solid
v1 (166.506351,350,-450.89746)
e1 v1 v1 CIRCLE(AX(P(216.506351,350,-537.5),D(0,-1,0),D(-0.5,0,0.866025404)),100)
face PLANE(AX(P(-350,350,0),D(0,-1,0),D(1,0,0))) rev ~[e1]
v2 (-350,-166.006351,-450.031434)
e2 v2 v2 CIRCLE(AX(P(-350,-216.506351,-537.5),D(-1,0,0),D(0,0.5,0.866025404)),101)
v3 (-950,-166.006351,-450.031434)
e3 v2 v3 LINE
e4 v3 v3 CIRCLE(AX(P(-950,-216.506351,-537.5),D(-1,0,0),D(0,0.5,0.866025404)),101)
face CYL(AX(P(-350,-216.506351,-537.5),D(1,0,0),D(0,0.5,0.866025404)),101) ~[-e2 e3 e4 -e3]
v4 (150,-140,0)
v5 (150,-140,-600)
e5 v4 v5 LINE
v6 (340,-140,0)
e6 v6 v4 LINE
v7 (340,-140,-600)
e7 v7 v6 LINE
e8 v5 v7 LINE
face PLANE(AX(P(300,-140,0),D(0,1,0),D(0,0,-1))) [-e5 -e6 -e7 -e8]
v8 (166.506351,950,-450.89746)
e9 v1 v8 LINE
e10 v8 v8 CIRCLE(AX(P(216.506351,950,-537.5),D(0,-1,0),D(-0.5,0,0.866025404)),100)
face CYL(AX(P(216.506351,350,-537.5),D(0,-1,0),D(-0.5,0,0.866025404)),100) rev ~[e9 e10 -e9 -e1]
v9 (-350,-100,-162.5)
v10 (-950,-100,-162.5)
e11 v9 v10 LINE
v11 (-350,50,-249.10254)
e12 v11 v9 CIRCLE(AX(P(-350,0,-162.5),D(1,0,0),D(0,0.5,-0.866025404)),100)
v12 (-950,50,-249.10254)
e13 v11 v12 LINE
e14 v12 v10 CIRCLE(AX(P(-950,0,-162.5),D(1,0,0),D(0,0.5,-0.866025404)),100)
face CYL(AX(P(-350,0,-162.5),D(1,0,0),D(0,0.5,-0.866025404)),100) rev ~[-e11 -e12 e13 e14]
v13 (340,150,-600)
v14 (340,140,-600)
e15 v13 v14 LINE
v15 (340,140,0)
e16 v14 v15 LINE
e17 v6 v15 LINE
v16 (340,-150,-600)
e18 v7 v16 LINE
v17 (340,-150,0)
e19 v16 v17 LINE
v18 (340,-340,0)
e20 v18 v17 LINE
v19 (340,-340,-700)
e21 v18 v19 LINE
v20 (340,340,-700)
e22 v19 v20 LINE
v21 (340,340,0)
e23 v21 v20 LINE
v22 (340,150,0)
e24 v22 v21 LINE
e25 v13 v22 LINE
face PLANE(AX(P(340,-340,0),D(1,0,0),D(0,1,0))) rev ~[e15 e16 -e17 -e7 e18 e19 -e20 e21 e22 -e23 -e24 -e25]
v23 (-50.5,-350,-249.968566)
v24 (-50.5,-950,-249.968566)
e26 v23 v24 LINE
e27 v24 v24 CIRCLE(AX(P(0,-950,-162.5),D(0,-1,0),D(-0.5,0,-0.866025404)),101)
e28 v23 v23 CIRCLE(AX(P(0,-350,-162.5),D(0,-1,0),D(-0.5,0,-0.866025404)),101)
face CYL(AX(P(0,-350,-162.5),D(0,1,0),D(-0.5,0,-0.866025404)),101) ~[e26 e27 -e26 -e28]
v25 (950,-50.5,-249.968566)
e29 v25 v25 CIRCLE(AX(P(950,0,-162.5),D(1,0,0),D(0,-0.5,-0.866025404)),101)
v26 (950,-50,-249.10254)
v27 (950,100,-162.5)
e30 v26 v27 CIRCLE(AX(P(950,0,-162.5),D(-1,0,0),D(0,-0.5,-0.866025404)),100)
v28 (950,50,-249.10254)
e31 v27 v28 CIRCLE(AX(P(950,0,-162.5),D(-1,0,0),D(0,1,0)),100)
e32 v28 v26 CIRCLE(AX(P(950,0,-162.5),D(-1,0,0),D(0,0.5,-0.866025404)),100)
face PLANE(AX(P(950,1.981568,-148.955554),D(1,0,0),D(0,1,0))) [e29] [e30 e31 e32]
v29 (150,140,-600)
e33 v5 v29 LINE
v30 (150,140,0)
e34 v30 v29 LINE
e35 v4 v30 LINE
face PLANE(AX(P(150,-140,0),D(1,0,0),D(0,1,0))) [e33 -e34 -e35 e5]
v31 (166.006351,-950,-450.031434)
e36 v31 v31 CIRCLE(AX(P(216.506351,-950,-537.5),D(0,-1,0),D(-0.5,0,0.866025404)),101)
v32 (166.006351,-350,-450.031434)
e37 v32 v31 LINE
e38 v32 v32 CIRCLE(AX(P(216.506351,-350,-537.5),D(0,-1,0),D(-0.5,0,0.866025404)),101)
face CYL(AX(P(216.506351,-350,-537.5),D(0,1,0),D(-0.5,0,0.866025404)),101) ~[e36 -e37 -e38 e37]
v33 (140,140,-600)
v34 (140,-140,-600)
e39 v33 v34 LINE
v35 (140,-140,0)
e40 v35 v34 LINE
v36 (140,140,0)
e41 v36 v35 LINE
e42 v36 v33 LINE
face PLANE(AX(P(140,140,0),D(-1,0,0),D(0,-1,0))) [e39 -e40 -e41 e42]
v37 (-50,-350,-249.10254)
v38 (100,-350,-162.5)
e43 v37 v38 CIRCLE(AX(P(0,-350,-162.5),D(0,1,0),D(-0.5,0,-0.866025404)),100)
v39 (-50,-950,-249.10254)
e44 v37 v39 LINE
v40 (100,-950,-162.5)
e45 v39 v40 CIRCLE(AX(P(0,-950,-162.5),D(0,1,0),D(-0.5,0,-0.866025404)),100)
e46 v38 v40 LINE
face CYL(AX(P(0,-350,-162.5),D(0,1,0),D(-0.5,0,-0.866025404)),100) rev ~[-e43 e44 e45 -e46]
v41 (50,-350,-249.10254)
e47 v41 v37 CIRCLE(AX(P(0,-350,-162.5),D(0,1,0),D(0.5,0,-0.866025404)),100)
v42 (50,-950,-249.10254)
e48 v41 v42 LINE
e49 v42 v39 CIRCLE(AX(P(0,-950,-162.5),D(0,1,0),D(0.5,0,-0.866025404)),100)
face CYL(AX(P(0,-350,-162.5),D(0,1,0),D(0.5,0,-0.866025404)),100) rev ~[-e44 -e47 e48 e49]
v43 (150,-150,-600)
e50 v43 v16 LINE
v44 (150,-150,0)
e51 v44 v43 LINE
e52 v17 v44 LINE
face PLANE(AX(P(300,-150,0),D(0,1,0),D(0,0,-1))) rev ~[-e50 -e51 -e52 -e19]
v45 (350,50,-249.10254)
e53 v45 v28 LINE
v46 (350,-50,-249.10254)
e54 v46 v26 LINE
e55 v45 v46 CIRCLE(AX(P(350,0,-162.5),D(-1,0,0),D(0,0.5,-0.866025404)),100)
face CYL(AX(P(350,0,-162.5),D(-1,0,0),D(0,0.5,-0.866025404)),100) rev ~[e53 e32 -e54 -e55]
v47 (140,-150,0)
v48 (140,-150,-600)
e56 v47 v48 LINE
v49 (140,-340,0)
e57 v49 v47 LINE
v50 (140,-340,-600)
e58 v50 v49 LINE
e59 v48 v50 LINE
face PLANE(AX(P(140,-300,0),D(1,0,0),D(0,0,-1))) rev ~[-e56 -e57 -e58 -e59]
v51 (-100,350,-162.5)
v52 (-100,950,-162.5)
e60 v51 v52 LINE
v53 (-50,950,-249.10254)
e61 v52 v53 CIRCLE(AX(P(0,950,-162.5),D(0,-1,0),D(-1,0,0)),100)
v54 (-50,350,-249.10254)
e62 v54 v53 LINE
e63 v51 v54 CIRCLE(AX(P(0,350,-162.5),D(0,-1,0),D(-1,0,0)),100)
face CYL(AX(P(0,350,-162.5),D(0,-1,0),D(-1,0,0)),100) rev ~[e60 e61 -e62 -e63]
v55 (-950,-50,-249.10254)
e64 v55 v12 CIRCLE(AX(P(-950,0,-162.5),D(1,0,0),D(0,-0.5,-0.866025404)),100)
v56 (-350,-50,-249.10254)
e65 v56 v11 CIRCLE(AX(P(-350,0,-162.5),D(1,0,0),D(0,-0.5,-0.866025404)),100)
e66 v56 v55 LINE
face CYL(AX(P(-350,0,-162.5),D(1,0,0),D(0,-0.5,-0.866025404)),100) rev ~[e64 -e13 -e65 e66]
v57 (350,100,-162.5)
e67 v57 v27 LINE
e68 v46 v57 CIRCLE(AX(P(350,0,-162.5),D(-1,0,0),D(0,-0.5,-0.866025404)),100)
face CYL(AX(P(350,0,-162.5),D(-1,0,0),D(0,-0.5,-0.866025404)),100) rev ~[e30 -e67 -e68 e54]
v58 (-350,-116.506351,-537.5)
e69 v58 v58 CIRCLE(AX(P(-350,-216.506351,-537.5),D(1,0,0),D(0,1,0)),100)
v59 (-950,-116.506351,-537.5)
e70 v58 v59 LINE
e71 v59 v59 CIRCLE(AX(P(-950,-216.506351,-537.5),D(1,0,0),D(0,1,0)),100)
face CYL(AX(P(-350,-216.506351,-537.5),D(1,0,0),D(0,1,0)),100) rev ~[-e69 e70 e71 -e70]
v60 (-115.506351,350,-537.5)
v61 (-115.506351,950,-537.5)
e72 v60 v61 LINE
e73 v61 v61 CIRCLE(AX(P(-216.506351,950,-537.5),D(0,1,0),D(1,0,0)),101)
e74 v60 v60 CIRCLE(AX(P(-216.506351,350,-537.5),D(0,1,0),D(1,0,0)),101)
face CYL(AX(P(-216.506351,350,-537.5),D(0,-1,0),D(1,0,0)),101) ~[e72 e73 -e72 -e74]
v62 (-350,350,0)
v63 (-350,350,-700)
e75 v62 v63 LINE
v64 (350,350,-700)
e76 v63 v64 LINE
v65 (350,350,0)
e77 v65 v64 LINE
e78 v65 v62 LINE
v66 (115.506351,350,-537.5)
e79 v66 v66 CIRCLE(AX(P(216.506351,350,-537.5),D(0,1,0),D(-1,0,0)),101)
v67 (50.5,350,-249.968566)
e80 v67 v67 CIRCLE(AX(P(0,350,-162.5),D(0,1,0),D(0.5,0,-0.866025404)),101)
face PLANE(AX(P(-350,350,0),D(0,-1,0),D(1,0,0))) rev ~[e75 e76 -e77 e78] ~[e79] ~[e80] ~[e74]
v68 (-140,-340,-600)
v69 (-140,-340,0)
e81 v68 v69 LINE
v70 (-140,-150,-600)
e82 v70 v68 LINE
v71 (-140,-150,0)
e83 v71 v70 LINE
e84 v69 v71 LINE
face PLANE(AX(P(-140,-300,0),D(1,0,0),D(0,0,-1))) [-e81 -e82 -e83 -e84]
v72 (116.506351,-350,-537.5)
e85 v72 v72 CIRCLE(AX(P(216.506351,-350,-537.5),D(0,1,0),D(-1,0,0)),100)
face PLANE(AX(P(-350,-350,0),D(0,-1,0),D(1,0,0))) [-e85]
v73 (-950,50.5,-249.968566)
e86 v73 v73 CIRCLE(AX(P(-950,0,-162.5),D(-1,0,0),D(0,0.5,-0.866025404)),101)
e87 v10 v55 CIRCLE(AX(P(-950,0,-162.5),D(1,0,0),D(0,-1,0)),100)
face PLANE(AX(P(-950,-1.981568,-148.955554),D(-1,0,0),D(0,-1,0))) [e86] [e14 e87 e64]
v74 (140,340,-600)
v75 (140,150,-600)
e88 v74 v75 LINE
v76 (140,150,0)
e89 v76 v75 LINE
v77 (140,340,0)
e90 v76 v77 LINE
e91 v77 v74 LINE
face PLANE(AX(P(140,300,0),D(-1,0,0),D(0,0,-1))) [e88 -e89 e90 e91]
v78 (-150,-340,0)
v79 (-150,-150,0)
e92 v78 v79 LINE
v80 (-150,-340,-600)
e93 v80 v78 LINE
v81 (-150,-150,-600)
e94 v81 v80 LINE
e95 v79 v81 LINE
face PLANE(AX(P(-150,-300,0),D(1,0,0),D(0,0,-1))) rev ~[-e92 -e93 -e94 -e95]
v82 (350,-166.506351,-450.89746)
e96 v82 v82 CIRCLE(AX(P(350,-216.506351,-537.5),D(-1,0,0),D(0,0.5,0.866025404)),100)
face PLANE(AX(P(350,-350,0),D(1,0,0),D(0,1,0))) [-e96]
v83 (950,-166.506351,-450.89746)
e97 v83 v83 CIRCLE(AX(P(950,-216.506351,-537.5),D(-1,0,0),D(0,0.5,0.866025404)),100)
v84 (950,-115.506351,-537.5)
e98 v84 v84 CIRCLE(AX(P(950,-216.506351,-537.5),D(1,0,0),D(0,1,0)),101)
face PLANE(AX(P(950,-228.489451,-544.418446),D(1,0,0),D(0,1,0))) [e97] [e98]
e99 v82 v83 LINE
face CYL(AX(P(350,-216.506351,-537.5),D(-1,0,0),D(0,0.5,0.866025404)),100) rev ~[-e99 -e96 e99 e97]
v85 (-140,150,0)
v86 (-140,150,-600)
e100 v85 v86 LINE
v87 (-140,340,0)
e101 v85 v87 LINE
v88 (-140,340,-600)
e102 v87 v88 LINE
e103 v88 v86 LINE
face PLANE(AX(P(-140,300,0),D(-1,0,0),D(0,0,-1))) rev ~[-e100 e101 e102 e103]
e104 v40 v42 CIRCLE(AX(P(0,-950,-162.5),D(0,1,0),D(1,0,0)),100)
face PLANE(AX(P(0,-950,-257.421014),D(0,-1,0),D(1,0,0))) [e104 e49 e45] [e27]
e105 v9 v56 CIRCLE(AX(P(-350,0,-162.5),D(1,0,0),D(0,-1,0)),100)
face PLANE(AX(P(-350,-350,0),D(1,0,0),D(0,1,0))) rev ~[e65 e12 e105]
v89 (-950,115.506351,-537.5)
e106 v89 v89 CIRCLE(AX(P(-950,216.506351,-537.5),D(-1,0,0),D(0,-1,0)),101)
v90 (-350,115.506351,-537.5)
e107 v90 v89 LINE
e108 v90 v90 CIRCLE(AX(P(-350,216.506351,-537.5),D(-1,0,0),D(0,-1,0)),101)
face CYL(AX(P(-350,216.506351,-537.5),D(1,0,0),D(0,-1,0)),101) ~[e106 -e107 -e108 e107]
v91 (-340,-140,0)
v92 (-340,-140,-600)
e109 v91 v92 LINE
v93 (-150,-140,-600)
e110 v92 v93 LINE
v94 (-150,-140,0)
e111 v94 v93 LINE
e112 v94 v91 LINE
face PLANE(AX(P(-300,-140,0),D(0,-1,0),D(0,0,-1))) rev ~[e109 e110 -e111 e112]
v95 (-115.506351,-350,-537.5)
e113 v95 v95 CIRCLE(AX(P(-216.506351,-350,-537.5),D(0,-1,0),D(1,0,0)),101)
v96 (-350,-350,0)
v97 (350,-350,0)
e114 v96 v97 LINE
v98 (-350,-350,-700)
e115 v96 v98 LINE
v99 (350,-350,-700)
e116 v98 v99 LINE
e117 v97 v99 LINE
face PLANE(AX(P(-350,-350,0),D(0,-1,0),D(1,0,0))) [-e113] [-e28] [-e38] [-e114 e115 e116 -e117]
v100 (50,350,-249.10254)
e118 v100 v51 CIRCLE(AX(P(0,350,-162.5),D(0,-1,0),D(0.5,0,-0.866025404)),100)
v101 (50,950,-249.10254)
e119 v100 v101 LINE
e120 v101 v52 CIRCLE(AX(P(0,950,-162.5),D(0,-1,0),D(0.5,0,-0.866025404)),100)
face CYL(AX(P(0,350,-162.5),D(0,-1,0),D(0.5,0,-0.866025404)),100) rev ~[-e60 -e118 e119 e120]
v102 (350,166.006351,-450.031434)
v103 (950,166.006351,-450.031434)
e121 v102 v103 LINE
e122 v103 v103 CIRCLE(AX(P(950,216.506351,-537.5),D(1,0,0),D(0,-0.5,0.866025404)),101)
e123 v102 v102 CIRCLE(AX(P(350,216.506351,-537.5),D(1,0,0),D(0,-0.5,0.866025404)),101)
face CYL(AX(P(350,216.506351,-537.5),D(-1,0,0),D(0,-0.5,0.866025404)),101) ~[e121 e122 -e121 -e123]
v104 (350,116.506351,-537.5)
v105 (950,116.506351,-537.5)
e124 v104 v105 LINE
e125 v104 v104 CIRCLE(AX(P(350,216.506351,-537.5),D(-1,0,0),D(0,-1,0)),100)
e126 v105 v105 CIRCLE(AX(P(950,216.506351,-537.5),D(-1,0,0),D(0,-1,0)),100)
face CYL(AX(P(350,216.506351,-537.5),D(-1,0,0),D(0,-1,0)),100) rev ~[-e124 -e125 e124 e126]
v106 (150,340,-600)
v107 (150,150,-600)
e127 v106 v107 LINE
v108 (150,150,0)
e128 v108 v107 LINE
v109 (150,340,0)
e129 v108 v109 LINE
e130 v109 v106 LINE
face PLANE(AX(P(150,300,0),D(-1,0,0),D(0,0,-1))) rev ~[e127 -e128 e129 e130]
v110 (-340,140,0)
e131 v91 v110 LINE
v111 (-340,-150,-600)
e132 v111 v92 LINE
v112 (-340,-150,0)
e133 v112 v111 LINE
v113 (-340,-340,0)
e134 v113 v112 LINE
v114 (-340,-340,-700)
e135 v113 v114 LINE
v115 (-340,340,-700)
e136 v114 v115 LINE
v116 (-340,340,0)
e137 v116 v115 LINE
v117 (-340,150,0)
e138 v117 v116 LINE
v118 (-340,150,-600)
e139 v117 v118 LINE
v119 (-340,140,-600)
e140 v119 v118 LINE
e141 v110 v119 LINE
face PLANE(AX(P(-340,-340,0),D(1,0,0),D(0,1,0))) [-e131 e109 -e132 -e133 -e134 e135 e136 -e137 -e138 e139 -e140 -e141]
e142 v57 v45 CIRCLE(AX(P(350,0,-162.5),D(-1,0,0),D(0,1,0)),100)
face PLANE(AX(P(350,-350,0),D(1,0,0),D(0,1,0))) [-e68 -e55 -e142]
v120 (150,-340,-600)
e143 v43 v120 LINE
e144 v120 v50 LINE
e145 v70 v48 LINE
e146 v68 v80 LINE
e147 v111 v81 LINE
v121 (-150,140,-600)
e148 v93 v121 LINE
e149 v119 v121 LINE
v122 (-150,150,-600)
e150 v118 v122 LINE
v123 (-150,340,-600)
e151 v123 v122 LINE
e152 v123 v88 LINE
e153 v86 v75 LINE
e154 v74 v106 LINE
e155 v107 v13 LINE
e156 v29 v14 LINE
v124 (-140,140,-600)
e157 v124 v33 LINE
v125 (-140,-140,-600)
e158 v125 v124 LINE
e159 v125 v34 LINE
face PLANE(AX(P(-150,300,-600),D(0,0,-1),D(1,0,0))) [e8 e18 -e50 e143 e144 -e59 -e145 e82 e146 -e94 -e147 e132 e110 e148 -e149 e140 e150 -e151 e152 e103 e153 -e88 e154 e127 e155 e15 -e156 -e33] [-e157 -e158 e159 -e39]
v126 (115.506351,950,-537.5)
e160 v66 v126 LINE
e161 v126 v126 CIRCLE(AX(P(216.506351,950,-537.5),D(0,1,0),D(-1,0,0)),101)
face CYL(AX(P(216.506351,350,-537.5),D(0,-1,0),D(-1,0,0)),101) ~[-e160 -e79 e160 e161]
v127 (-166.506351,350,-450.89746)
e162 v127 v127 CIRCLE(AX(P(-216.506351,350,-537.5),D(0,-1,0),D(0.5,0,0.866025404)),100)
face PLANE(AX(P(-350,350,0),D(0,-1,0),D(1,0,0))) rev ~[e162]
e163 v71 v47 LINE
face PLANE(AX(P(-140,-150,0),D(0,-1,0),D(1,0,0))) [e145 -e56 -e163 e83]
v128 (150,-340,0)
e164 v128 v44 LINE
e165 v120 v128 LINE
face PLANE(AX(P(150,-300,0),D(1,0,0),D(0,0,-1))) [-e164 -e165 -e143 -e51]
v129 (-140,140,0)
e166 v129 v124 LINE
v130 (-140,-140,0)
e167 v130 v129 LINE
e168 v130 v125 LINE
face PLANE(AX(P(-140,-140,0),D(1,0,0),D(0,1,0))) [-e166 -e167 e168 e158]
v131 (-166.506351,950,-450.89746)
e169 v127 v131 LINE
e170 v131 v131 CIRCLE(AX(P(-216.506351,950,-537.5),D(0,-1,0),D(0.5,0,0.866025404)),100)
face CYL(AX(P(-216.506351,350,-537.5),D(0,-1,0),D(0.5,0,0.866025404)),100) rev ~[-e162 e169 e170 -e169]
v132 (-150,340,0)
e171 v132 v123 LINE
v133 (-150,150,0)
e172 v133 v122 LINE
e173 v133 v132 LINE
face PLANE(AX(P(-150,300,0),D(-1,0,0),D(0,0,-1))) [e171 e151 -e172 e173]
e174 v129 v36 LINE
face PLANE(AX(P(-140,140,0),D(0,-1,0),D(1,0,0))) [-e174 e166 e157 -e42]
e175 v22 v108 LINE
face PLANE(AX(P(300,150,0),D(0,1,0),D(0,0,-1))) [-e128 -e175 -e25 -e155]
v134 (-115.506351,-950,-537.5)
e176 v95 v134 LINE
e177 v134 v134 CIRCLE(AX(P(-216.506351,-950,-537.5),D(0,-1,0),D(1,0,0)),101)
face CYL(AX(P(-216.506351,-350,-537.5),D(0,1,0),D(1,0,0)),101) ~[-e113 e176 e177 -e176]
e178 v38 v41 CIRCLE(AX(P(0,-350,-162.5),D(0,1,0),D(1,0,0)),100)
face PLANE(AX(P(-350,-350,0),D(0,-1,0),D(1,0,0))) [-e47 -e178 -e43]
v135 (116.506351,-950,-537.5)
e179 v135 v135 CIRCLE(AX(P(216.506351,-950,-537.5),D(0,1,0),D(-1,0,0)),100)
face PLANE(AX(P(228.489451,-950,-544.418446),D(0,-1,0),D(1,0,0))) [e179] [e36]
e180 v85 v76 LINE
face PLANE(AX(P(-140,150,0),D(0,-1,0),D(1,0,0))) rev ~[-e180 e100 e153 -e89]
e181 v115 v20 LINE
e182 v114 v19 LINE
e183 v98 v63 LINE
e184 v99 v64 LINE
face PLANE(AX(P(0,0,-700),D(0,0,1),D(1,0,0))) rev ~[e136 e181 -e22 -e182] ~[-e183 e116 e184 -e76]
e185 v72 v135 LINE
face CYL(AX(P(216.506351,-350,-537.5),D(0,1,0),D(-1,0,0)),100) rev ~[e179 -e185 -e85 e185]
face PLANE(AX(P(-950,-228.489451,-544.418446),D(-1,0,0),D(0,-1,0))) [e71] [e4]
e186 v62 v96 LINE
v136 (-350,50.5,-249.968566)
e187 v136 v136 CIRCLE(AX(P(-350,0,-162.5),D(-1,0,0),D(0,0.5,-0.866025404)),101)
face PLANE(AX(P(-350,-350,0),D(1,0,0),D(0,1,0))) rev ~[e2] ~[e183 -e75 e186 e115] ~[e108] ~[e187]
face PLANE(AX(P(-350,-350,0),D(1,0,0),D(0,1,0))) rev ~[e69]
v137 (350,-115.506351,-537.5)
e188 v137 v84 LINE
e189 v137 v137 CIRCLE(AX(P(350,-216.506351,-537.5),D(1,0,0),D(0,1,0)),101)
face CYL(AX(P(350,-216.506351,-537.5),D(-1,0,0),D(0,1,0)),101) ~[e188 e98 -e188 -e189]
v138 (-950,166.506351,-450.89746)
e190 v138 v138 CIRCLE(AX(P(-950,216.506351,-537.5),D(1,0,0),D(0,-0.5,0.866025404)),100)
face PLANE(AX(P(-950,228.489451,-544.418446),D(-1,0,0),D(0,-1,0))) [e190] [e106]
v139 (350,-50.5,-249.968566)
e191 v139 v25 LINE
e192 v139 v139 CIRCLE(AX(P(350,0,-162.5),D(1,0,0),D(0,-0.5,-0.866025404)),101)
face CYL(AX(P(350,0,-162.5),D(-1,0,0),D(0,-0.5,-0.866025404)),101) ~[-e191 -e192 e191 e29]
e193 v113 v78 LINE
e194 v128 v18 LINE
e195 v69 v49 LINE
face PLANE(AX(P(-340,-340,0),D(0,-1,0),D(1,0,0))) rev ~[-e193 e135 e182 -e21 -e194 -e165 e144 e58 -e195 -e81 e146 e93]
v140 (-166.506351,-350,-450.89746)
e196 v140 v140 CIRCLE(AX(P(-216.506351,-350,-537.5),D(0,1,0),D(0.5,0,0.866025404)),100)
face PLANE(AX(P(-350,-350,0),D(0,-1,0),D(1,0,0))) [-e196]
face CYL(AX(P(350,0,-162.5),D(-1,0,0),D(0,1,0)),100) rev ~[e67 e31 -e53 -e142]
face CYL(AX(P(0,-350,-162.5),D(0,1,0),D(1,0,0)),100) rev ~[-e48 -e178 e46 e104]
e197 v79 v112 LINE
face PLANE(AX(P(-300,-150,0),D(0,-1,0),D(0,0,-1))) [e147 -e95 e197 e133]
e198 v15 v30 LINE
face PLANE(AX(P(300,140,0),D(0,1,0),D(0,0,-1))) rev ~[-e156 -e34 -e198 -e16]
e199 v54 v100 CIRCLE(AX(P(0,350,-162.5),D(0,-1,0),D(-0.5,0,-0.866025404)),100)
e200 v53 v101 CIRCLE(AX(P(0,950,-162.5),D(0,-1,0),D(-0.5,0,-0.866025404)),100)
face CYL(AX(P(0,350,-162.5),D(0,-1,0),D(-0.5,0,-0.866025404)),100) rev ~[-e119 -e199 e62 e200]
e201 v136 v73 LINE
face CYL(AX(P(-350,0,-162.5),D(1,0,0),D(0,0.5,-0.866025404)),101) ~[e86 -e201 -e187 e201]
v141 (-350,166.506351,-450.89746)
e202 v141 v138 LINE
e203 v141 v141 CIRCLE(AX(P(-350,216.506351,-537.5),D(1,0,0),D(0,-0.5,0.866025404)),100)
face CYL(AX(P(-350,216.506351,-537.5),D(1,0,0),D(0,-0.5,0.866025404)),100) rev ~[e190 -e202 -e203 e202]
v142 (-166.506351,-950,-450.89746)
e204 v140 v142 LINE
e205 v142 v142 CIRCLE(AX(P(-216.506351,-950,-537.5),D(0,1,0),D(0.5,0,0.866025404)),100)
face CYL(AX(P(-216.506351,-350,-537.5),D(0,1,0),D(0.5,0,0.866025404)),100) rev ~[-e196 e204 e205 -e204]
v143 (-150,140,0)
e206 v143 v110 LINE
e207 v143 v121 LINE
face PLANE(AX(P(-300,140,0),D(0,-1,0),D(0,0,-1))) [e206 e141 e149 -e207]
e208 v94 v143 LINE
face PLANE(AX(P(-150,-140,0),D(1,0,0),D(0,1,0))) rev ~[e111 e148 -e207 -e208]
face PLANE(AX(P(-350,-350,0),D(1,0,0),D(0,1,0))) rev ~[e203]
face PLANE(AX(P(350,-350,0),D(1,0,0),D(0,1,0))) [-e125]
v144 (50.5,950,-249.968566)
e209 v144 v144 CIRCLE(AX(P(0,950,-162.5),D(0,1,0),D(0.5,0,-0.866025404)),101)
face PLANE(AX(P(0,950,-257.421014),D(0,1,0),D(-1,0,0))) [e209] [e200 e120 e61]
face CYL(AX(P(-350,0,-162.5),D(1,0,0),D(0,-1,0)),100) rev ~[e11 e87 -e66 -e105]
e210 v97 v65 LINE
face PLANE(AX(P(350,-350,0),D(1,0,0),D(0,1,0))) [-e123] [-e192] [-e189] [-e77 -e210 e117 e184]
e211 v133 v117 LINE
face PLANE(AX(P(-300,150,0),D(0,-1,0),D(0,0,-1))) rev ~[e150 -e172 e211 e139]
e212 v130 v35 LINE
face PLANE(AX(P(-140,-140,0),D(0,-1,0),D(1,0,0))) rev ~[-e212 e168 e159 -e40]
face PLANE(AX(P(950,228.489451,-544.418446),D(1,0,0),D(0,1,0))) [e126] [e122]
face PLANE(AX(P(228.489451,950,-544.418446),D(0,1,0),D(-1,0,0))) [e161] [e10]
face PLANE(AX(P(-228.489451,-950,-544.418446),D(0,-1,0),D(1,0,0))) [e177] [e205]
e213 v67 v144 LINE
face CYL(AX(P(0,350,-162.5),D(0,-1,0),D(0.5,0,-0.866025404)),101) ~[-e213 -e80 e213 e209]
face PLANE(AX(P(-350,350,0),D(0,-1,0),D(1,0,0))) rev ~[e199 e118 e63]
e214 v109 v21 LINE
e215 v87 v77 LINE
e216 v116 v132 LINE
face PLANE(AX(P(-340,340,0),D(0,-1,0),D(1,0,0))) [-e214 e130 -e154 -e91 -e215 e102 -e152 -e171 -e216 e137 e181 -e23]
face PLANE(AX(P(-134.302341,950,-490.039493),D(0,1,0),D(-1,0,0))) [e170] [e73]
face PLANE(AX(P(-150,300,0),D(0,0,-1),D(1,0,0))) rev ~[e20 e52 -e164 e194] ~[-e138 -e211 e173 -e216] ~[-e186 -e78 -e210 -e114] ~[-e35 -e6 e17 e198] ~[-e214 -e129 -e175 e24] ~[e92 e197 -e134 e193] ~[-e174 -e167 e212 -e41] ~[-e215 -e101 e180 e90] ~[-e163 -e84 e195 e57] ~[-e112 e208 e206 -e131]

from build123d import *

# Parameters (mm, degrees)
F0_W      = 700
F0_H      = 700
F0_W_2    = 680
F0_H_2    = 680
F1_DEPTH  = 700
F2_W      = 10
F2_H      = 150
F2_W_2    = 150
F2_H_2    = 10
F2_W_3    = 280
F2_H_3    = 280
F3_DEPTH  = 600
F8_DEPTH  = 50
F9_DEPTH  = 50
F10_DEPTH = 50
F11_DEPTH = 50
F12_DEPTH = 50
F13_DEPTH = 50
F14_DEPTH = 50
F15_DEPTH = 50
F16_DEPTH = 600
F17_DEPTH = 600
F18_DEPTH = 600
F19_DEPTH = 600


with BuildPart() as f1:
    # F0 (on Top) → F1 (new body)
    with BuildSketch(Plane.XY):
        Rectangle(F0_W, F0_H)
        Rectangle(F0_W_2, F0_H_2, mode=Mode.SUBTRACT)
    extrude(amount=-F1_DEPTH)



with BuildPart() as f3:
    # F2 (on Top) → F3 (new body)
    with BuildSketch(Plane.XY):
        with Locations((-145, 225)):
            Rectangle(F2_W, F2_H)
        with Locations((-225, 145)):
            Rectangle(F2_W_2, F2_H_2)
        with Locations((-145, 145)):
            Rectangle(F2_W, F2_H_2)
        with Locations((0, 145)):
            Rectangle(F2_W_3, F2_H_2)
        with Locations((-145, 0)):
            Rectangle(F2_W, F2_H_3)
        with Locations((145, 225)):
            Rectangle(F2_W, F2_H)
        with Locations((225, 145)):
            Rectangle(F2_W_2, F2_H_2)
        with Locations((145, 145)):
            Rectangle(F2_W, F2_H_2)
        with Locations((145, -225)):
            Rectangle(F2_W, F2_H)
        with Locations((225, -145)):
            Rectangle(F2_W_2, F2_H_2)
        with Locations((145, -145)):
            Rectangle(F2_W, F2_H_2)
        with Locations((145, 0)):
            Rectangle(F2_W, F2_H_3)
        with Locations((0, -145)):
            Rectangle(F2_W_3, F2_H_2)
        with Locations((-225, -145)):
            Rectangle(F2_W_2, F2_H_2)
        with Locations((-145, -225)):
            Rectangle(F2_W, F2_H)
        with Locations((-145, -145)):
            Rectangle(F2_W, F2_H_2)
    extrude(amount=-F3_DEPTH)


with BuildPart() as f8:
    # F8 (new): a face of the model
    f8_faces = [f3.part.faces().sort_by_distance(p)[0] for p in [
        (-300, 145, -300),
    ]]
    extrude(f8_faces, amount=F8_DEPTH)


with BuildPart() as f9:
    # F9 (new): a face of the model
    f9_faces = [f3.part.faces().sort_by_distance(p)[0] for p in [
        (-145, -300, -300),
    ]]
    extrude(f9_faces, amount=F9_DEPTH)


with BuildPart() as f1_1:
    add(f1.part)
    # F10 (add): a face of the model
    f10_faces = [f3.part.faces().sort_by_distance(p)[0] for p in [
        (-300, -145, -300),
    ]]

    add(f3.part)  # F10 merges F3
    extrude(f10_faces, amount=F10_DEPTH)


with BuildPart() as f11:
    # F11 (new): a face of the model
    f11_faces = [f1_1.part.faces().sort_by_distance(p)[0] for p in [
        (145, -300, -300),
    ]]
    extrude(f11_faces, amount=F11_DEPTH)


with BuildPart() as f12:
    # F12 (new): a face of the model
    f12_faces = [f1_1.part.faces().sort_by_distance(p)[0] for p in [
        (300, -145, -300),
    ]]
    extrude(f12_faces, amount=F12_DEPTH)


with BuildPart() as f13:
    # F13 (new): a face of the model
    f13_faces = [f1_1.part.faces().sort_by_distance(p)[0] for p in [
        (300, 145, -300),
    ]]
    extrude(f13_faces, amount=F13_DEPTH)


with BuildPart() as f14:
    # F14 (new): a face of the model
    f14_faces = [f1_1.part.faces().sort_by_distance(p)[0] for p in [
        (145, 300, -300),
    ]]
    extrude(f14_faces, amount=F14_DEPTH)


with BuildPart() as f15:
    # F15 (new): a face of the model
    f15_faces = [f1_1.part.faces().sort_by_distance(p)[0] for p in [
        (-145, 300, -300),
    ]]
    extrude(f15_faces, amount=F15_DEPTH)


with BuildPart() as f1_2:
    add(f1_1.part)

    add(f12.part)  # F16 merges F12

    add(f13.part)  # F16 merges F13
    # F4 (on face) → F16 (join)
    with BuildSketch(Plane.YZ.offset(350)):
        with BuildLine():
            ThreePointArc((100, -162.5), (86.6025403784, -212.5), (50, -249.1025403784))
            Line((50, -249.1025403784), (50.5, -249.9685657822))
            ThreePointArc((50.5, -249.9685657822), (87.4685657822, -213), (101, -162.5))
            ThreePointArc((101, -162.5), (-50.5, -75.0314342178), (-50.5, -249.9685657822))
            Line((-50.5, -249.9685657822), (-50, -249.1025403784))
            ThreePointArc((-50, -249.1025403784), (-50, -75.8974596216), (100, -162.5))
        make_face()
        with BuildLine():
            ThreePointArc((317.5063509461, -537.5), (267.0063509461, -450.0314342178), (166.0063509461, -450.0314342178))
            Line((166.0063509461, -450.0314342178), (166.5063509461, -450.8974596216))
            ThreePointArc((166.5063509461, -450.8974596216), (266.5063509461, -450.8974596216), (316.5063509461, -537.5))
            ThreePointArc((316.5063509461, -537.5), (216.5063509461, -637.5), (116.5063509461, -537.5))
            Line((116.5063509461, -537.5), (115.5063509461, -537.5))
            ThreePointArc((115.5063509461, -537.5), (216.5063509461, -638.5), (317.5063509461, -537.5))
        make_face()
        with BuildLine():
            Line((166.5063509461, -450.8974596216), (166.0063509461, -450.0314342178))
            ThreePointArc((166.0063509461, -450.0314342178), (129.0377851639, -487), (115.5063509461, -537.5))
            Line((115.5063509461, -537.5), (116.5063509461, -537.5))
            ThreePointArc((116.5063509461, -537.5), (129.9038105677, -487.5), (166.5063509461, -450.8974596216))
        make_face()
        with BuildLine():
            Line((50.5, -249.9685657822), (50, -249.1025403784))
            ThreePointArc((50, -249.1025403784), (0, -262.5), (-50, -249.1025403784))
            Line((-50, -249.1025403784), (-50.5, -249.9685657822))
            ThreePointArc((-50.5, -249.9685657822), (0, -263.5), (50.5, -249.9685657822))
        make_face()
        with BuildLine():
            Line((-166.5063509461, -450.8974596216), (-166.0063509461, -450.0314342178))
            ThreePointArc((-166.0063509461, -450.0314342178), (-303.9749167283, -588), (-115.5063509461, -537.5))
            Line((-115.5063509461, -537.5), (-116.5063509461, -537.5))
            ThreePointArc((-116.5063509461, -537.5), (-303.1088913246, -587.5), (-166.5063509461, -450.8974596216))
        make_face()
        with BuildLine():
            ThreePointArc((-115.5063509461, -537.5), (-129.0377851639, -487), (-166.0063509461, -450.0314342178))
            Line((-166.0063509461, -450.0314342178), (-166.5063509461, -450.8974596216))
            ThreePointArc((-166.5063509461, -450.8974596216), (-129.9038105677, -487.5), (-116.5063509461, -537.5))
            Line((-116.5063509461, -537.5), (-115.5063509461, -537.5))
        make_face()
    extrude(amount=F16_DEPTH)

    add(f9.part)  # F17 merges F9

    add(f11.part)  # F17 merges F11
    # F5 (on face) → F17 (join)
    with BuildSketch(Plane.XZ.offset(350)):
        with BuildLine():
            Line((50.5, -249.9685657822), (50, -249.1025403784))
            ThreePointArc((50, -249.1025403784), (0, -262.5), (-50, -249.1025403784))
            Line((-50, -249.1025403784), (-50.5, -249.9685657822))
            ThreePointArc((-50.5, -249.9685657822), (0, -263.5), (50.5, -249.9685657822))
        make_face()
        with BuildLine():
            ThreePointArc((100, -162.5), (86.6025403784, -212.5), (50, -249.1025403784))
            Line((50, -249.1025403784), (50.5, -249.9685657822))
            ThreePointArc((50.5, -249.9685657822), (87.4685657822, -213), (101, -162.5))
            ThreePointArc((101, -162.5), (-50.5, -75.0314342178), (-50.5, -249.9685657822))
            Line((-50.5, -249.9685657822), (-50, -249.1025403784))
            ThreePointArc((-50, -249.1025403784), (-50, -75.8974596216), (100, -162.5))
        make_face()
        with BuildLine():
            Line((-166.5063509461, -450.8974596216), (-166.0063509461, -450.0314342178))
            ThreePointArc((-166.0063509461, -450.0314342178), (-303.9749167283, -588), (-115.5063509461, -537.5))
            Line((-115.5063509461, -537.5), (-116.5063509461, -537.5))
            ThreePointArc((-116.5063509461, -537.5), (-303.1088913246, -587.5), (-166.5063509461, -450.8974596216))
        make_face()
        with BuildLine():
            ThreePointArc((-115.5063509461, -537.5), (-129.0377851639, -487), (-166.0063509461, -450.0314342178))
            Line((-166.0063509461, -450.0314342178), (-166.5063509461, -450.8974596216))
            ThreePointArc((-166.5063509461, -450.8974596216), (-129.9038105677, -487.5), (-116.5063509461, -537.5))
            Line((-116.5063509461, -537.5), (-115.5063509461, -537.5))
        make_face()
        with BuildLine():
            ThreePointArc((317.5063509461, -537.5), (267.0063509461, -450.0314342178), (166.0063509461, -450.0314342178))
            Line((166.0063509461, -450.0314342178), (166.5063509461, -450.8974596216))
            ThreePointArc((166.5063509461, -450.8974596216), (266.5063509461, -450.8974596216), (316.5063509461, -537.5))
            ThreePointArc((316.5063509461, -537.5), (216.5063509461, -637.5), (116.5063509461, -537.5))
            Line((116.5063509461, -537.5), (115.5063509461, -537.5))
            ThreePointArc((115.5063509461, -537.5), (216.5063509461, -638.5), (317.5063509461, -537.5))
        make_face()
        with BuildLine():
            Line((166.5063509461, -450.8974596216), (166.0063509461, -450.0314342178))
            ThreePointArc((166.0063509461, -450.0314342178), (129.0377851639, -487), (115.5063509461, -537.5))
            Line((115.5063509461, -537.5), (116.5063509461, -537.5))
            ThreePointArc((116.5063509461, -537.5), (129.9038105677, -487.5), (166.5063509461, -450.8974596216))
        make_face()
    extrude(amount=F17_DEPTH)

    add(f8.part)  # F18 merges F8
    # F6 (on face) → F18 (join)
    with BuildSketch(Plane(origin=(-350, 0, 0), x_dir=(0, -1, 0), z_dir=(-1, 0, 0))):
        with BuildLine():
            ThreePointArc((100, -162.5), (86.6025403784, -212.5), (50, -249.1025403784))
            Line((50, -249.1025403784), (50.5, -249.9685657822))
            ThreePointArc((50.5, -249.9685657822), (87.4685657822, -213), (101, -162.5))
            ThreePointArc((101, -162.5), (-50.5, -75.0314342178), (-50.5, -249.9685657822))
            Line((-50.5, -249.9685657822), (-50, -249.1025403784))
            ThreePointArc((-50, -249.1025403784), (-50, -75.8974596216), (100, -162.5))
        make_face()
        with BuildLine():
            Line((50.5, -249.9685657822), (50, -249.1025403784))
            ThreePointArc((50, -249.1025403784), (0, -262.5), (-50, -249.1025403784))
            Line((-50, -249.1025403784), (-50.5, -249.9685657822))
            ThreePointArc((-50.5, -249.9685657822), (0, -263.5), (50.5, -249.9685657822))
        make_face()
        with BuildLine():
            ThreePointArc((317.5063509461, -537.5), (267.0063509461, -450.0314342178), (166.0063509461, -450.0314342178))
            Line((166.0063509461, -450.0314342178), (166.5063509461, -450.8974596216))
            ThreePointArc((166.5063509461, -450.8974596216), (266.5063509461, -450.8974596216), (316.5063509461, -537.5))
            ThreePointArc((316.5063509461, -537.5), (216.5063509461, -637.5), (116.5063509461, -537.5))
            Line((116.5063509461, -537.5), (115.5063509461, -537.5))
            ThreePointArc((115.5063509461, -537.5), (216.5063509461, -638.5), (317.5063509461, -537.5))
        make_face()
        with BuildLine():
            Line((166.5063509461, -450.8974596216), (166.0063509461, -450.0314342178))
            ThreePointArc((166.0063509461, -450.0314342178), (129.0377851639, -487), (115.5063509461, -537.5))
            Line((115.5063509461, -537.5), (116.5063509461, -537.5))
            ThreePointArc((116.5063509461, -537.5), (129.9038105677, -487.5), (166.5063509461, -450.8974596216))
        make_face()
        with BuildLine():
            Line((-166.5063509461, -450.8974596216), (-166.0063509461, -450.0314342178))
            ThreePointArc((-166.0063509461, -450.0314342178), (-303.9749167283, -588), (-115.5063509461, -537.5))
            Line((-115.5063509461, -537.5), (-116.5063509461, -537.5))
            ThreePointArc((-116.5063509461, -537.5), (-303.1088913246, -587.5), (-166.5063509461, -450.8974596216))
        make_face()
        with BuildLine():
            ThreePointArc((-115.5063509461, -537.5), (-129.0377851639, -487), (-166.0063509461, -450.0314342178))
            Line((-166.0063509461, -450.0314342178), (-166.5063509461, -450.8974596216))
            ThreePointArc((-166.5063509461, -450.8974596216), (-129.9038105677, -487.5), (-116.5063509461, -537.5))
            Line((-116.5063509461, -537.5), (-115.5063509461, -537.5))
        make_face()
    extrude(amount=F18_DEPTH)

    add(f14.part)  # F19 merges F14

    add(f15.part)  # F19 merges F15
    # F7 (on face) → F19 (join)
    with BuildSketch(Plane(origin=(0, 350, 0), x_dir=(-1, 0, 0), z_dir=(0, 1, 0))):
        with BuildLine():
            Line((50.5, -249.9685657822), (50, -249.1025403784))
            ThreePointArc((50, -249.1025403784), (0, -262.5), (-50, -249.1025403784))
            Line((-50, -249.1025403784), (-50.5, -249.9685657822))
            ThreePointArc((-50.5, -249.9685657822), (0, -263.5), (50.5, -249.9685657822))
        make_face()
        with BuildLine():
            ThreePointArc((100, -162.5), (86.6025403784, -212.5), (50, -249.1025403784))
            Line((50, -249.1025403784), (50.5, -249.9685657822))
            ThreePointArc((50.5, -249.9685657822), (87.4685657822, -213), (101, -162.5))
            ThreePointArc((101, -162.5), (-50.5, -75.0314342178), (-50.5, -249.9685657822))
            Line((-50.5, -249.9685657822), (-50, -249.1025403784))
            ThreePointArc((-50, -249.1025403784), (-50, -75.8974596216), (100, -162.5))
        make_face()
        with BuildLine():
            Line((-166.5063509461, -450.8974596216), (-166.0063509461, -450.0314342178))
            ThreePointArc((-166.0063509461, -450.0314342178), (-303.9749167283, -588), (-115.5063509461, -537.5))
            Line((-115.5063509461, -537.5), (-116.5063509461, -537.5))
            ThreePointArc((-116.5063509461, -537.5), (-303.1088913246, -587.5), (-166.5063509461, -450.8974596216))
        make_face()
        with BuildLine():
            ThreePointArc((-115.5063509461, -537.5), (-129.0377851639, -487), (-166.0063509461, -450.0314342178))
            Line((-166.0063509461, -450.0314342178), (-166.5063509461, -450.8974596216))
            ThreePointArc((-166.5063509461, -450.8974596216), (-129.9038105677, -487.5), (-116.5063509461, -537.5))
            Line((-116.5063509461, -537.5), (-115.5063509461, -537.5))
        make_face()
        with BuildLine():
            Line((166.5063509461, -450.8974596216), (166.0063509461, -450.0314342178))
            ThreePointArc((166.0063509461, -450.0314342178), (129.0377851639, -487), (115.5063509461, -537.5))
            Line((115.5063509461, -537.5), (116.5063509461, -537.5))
            ThreePointArc((116.5063509461, -537.5), (129.9038105677, -487.5), (166.5063509461, -450.8974596216))
        make_face()
        with BuildLine():
            ThreePointArc((317.5063509461, -537.5), (267.0063509461, -450.0314342178), (166.0063509461, -450.0314342178))
            Line((166.0063509461, -450.0314342178), (166.5063509461, -450.8974596216))
            ThreePointArc((166.5063509461, -450.8974596216), (266.5063509461, -450.8974596216), (316.5063509461, -537.5))
            ThreePointArc((316.5063509461, -537.5), (216.5063509461, -637.5), (116.5063509461, -537.5))
            Line((116.5063509461, -537.5), (115.5063509461, -537.5))
            ThreePointArc((115.5063509461, -537.5), (216.5063509461, -638.5), (317.5063509461, -537.5))
        make_face()
    extrude(amount=F19_DEPTH)


solid = f1_2.part
